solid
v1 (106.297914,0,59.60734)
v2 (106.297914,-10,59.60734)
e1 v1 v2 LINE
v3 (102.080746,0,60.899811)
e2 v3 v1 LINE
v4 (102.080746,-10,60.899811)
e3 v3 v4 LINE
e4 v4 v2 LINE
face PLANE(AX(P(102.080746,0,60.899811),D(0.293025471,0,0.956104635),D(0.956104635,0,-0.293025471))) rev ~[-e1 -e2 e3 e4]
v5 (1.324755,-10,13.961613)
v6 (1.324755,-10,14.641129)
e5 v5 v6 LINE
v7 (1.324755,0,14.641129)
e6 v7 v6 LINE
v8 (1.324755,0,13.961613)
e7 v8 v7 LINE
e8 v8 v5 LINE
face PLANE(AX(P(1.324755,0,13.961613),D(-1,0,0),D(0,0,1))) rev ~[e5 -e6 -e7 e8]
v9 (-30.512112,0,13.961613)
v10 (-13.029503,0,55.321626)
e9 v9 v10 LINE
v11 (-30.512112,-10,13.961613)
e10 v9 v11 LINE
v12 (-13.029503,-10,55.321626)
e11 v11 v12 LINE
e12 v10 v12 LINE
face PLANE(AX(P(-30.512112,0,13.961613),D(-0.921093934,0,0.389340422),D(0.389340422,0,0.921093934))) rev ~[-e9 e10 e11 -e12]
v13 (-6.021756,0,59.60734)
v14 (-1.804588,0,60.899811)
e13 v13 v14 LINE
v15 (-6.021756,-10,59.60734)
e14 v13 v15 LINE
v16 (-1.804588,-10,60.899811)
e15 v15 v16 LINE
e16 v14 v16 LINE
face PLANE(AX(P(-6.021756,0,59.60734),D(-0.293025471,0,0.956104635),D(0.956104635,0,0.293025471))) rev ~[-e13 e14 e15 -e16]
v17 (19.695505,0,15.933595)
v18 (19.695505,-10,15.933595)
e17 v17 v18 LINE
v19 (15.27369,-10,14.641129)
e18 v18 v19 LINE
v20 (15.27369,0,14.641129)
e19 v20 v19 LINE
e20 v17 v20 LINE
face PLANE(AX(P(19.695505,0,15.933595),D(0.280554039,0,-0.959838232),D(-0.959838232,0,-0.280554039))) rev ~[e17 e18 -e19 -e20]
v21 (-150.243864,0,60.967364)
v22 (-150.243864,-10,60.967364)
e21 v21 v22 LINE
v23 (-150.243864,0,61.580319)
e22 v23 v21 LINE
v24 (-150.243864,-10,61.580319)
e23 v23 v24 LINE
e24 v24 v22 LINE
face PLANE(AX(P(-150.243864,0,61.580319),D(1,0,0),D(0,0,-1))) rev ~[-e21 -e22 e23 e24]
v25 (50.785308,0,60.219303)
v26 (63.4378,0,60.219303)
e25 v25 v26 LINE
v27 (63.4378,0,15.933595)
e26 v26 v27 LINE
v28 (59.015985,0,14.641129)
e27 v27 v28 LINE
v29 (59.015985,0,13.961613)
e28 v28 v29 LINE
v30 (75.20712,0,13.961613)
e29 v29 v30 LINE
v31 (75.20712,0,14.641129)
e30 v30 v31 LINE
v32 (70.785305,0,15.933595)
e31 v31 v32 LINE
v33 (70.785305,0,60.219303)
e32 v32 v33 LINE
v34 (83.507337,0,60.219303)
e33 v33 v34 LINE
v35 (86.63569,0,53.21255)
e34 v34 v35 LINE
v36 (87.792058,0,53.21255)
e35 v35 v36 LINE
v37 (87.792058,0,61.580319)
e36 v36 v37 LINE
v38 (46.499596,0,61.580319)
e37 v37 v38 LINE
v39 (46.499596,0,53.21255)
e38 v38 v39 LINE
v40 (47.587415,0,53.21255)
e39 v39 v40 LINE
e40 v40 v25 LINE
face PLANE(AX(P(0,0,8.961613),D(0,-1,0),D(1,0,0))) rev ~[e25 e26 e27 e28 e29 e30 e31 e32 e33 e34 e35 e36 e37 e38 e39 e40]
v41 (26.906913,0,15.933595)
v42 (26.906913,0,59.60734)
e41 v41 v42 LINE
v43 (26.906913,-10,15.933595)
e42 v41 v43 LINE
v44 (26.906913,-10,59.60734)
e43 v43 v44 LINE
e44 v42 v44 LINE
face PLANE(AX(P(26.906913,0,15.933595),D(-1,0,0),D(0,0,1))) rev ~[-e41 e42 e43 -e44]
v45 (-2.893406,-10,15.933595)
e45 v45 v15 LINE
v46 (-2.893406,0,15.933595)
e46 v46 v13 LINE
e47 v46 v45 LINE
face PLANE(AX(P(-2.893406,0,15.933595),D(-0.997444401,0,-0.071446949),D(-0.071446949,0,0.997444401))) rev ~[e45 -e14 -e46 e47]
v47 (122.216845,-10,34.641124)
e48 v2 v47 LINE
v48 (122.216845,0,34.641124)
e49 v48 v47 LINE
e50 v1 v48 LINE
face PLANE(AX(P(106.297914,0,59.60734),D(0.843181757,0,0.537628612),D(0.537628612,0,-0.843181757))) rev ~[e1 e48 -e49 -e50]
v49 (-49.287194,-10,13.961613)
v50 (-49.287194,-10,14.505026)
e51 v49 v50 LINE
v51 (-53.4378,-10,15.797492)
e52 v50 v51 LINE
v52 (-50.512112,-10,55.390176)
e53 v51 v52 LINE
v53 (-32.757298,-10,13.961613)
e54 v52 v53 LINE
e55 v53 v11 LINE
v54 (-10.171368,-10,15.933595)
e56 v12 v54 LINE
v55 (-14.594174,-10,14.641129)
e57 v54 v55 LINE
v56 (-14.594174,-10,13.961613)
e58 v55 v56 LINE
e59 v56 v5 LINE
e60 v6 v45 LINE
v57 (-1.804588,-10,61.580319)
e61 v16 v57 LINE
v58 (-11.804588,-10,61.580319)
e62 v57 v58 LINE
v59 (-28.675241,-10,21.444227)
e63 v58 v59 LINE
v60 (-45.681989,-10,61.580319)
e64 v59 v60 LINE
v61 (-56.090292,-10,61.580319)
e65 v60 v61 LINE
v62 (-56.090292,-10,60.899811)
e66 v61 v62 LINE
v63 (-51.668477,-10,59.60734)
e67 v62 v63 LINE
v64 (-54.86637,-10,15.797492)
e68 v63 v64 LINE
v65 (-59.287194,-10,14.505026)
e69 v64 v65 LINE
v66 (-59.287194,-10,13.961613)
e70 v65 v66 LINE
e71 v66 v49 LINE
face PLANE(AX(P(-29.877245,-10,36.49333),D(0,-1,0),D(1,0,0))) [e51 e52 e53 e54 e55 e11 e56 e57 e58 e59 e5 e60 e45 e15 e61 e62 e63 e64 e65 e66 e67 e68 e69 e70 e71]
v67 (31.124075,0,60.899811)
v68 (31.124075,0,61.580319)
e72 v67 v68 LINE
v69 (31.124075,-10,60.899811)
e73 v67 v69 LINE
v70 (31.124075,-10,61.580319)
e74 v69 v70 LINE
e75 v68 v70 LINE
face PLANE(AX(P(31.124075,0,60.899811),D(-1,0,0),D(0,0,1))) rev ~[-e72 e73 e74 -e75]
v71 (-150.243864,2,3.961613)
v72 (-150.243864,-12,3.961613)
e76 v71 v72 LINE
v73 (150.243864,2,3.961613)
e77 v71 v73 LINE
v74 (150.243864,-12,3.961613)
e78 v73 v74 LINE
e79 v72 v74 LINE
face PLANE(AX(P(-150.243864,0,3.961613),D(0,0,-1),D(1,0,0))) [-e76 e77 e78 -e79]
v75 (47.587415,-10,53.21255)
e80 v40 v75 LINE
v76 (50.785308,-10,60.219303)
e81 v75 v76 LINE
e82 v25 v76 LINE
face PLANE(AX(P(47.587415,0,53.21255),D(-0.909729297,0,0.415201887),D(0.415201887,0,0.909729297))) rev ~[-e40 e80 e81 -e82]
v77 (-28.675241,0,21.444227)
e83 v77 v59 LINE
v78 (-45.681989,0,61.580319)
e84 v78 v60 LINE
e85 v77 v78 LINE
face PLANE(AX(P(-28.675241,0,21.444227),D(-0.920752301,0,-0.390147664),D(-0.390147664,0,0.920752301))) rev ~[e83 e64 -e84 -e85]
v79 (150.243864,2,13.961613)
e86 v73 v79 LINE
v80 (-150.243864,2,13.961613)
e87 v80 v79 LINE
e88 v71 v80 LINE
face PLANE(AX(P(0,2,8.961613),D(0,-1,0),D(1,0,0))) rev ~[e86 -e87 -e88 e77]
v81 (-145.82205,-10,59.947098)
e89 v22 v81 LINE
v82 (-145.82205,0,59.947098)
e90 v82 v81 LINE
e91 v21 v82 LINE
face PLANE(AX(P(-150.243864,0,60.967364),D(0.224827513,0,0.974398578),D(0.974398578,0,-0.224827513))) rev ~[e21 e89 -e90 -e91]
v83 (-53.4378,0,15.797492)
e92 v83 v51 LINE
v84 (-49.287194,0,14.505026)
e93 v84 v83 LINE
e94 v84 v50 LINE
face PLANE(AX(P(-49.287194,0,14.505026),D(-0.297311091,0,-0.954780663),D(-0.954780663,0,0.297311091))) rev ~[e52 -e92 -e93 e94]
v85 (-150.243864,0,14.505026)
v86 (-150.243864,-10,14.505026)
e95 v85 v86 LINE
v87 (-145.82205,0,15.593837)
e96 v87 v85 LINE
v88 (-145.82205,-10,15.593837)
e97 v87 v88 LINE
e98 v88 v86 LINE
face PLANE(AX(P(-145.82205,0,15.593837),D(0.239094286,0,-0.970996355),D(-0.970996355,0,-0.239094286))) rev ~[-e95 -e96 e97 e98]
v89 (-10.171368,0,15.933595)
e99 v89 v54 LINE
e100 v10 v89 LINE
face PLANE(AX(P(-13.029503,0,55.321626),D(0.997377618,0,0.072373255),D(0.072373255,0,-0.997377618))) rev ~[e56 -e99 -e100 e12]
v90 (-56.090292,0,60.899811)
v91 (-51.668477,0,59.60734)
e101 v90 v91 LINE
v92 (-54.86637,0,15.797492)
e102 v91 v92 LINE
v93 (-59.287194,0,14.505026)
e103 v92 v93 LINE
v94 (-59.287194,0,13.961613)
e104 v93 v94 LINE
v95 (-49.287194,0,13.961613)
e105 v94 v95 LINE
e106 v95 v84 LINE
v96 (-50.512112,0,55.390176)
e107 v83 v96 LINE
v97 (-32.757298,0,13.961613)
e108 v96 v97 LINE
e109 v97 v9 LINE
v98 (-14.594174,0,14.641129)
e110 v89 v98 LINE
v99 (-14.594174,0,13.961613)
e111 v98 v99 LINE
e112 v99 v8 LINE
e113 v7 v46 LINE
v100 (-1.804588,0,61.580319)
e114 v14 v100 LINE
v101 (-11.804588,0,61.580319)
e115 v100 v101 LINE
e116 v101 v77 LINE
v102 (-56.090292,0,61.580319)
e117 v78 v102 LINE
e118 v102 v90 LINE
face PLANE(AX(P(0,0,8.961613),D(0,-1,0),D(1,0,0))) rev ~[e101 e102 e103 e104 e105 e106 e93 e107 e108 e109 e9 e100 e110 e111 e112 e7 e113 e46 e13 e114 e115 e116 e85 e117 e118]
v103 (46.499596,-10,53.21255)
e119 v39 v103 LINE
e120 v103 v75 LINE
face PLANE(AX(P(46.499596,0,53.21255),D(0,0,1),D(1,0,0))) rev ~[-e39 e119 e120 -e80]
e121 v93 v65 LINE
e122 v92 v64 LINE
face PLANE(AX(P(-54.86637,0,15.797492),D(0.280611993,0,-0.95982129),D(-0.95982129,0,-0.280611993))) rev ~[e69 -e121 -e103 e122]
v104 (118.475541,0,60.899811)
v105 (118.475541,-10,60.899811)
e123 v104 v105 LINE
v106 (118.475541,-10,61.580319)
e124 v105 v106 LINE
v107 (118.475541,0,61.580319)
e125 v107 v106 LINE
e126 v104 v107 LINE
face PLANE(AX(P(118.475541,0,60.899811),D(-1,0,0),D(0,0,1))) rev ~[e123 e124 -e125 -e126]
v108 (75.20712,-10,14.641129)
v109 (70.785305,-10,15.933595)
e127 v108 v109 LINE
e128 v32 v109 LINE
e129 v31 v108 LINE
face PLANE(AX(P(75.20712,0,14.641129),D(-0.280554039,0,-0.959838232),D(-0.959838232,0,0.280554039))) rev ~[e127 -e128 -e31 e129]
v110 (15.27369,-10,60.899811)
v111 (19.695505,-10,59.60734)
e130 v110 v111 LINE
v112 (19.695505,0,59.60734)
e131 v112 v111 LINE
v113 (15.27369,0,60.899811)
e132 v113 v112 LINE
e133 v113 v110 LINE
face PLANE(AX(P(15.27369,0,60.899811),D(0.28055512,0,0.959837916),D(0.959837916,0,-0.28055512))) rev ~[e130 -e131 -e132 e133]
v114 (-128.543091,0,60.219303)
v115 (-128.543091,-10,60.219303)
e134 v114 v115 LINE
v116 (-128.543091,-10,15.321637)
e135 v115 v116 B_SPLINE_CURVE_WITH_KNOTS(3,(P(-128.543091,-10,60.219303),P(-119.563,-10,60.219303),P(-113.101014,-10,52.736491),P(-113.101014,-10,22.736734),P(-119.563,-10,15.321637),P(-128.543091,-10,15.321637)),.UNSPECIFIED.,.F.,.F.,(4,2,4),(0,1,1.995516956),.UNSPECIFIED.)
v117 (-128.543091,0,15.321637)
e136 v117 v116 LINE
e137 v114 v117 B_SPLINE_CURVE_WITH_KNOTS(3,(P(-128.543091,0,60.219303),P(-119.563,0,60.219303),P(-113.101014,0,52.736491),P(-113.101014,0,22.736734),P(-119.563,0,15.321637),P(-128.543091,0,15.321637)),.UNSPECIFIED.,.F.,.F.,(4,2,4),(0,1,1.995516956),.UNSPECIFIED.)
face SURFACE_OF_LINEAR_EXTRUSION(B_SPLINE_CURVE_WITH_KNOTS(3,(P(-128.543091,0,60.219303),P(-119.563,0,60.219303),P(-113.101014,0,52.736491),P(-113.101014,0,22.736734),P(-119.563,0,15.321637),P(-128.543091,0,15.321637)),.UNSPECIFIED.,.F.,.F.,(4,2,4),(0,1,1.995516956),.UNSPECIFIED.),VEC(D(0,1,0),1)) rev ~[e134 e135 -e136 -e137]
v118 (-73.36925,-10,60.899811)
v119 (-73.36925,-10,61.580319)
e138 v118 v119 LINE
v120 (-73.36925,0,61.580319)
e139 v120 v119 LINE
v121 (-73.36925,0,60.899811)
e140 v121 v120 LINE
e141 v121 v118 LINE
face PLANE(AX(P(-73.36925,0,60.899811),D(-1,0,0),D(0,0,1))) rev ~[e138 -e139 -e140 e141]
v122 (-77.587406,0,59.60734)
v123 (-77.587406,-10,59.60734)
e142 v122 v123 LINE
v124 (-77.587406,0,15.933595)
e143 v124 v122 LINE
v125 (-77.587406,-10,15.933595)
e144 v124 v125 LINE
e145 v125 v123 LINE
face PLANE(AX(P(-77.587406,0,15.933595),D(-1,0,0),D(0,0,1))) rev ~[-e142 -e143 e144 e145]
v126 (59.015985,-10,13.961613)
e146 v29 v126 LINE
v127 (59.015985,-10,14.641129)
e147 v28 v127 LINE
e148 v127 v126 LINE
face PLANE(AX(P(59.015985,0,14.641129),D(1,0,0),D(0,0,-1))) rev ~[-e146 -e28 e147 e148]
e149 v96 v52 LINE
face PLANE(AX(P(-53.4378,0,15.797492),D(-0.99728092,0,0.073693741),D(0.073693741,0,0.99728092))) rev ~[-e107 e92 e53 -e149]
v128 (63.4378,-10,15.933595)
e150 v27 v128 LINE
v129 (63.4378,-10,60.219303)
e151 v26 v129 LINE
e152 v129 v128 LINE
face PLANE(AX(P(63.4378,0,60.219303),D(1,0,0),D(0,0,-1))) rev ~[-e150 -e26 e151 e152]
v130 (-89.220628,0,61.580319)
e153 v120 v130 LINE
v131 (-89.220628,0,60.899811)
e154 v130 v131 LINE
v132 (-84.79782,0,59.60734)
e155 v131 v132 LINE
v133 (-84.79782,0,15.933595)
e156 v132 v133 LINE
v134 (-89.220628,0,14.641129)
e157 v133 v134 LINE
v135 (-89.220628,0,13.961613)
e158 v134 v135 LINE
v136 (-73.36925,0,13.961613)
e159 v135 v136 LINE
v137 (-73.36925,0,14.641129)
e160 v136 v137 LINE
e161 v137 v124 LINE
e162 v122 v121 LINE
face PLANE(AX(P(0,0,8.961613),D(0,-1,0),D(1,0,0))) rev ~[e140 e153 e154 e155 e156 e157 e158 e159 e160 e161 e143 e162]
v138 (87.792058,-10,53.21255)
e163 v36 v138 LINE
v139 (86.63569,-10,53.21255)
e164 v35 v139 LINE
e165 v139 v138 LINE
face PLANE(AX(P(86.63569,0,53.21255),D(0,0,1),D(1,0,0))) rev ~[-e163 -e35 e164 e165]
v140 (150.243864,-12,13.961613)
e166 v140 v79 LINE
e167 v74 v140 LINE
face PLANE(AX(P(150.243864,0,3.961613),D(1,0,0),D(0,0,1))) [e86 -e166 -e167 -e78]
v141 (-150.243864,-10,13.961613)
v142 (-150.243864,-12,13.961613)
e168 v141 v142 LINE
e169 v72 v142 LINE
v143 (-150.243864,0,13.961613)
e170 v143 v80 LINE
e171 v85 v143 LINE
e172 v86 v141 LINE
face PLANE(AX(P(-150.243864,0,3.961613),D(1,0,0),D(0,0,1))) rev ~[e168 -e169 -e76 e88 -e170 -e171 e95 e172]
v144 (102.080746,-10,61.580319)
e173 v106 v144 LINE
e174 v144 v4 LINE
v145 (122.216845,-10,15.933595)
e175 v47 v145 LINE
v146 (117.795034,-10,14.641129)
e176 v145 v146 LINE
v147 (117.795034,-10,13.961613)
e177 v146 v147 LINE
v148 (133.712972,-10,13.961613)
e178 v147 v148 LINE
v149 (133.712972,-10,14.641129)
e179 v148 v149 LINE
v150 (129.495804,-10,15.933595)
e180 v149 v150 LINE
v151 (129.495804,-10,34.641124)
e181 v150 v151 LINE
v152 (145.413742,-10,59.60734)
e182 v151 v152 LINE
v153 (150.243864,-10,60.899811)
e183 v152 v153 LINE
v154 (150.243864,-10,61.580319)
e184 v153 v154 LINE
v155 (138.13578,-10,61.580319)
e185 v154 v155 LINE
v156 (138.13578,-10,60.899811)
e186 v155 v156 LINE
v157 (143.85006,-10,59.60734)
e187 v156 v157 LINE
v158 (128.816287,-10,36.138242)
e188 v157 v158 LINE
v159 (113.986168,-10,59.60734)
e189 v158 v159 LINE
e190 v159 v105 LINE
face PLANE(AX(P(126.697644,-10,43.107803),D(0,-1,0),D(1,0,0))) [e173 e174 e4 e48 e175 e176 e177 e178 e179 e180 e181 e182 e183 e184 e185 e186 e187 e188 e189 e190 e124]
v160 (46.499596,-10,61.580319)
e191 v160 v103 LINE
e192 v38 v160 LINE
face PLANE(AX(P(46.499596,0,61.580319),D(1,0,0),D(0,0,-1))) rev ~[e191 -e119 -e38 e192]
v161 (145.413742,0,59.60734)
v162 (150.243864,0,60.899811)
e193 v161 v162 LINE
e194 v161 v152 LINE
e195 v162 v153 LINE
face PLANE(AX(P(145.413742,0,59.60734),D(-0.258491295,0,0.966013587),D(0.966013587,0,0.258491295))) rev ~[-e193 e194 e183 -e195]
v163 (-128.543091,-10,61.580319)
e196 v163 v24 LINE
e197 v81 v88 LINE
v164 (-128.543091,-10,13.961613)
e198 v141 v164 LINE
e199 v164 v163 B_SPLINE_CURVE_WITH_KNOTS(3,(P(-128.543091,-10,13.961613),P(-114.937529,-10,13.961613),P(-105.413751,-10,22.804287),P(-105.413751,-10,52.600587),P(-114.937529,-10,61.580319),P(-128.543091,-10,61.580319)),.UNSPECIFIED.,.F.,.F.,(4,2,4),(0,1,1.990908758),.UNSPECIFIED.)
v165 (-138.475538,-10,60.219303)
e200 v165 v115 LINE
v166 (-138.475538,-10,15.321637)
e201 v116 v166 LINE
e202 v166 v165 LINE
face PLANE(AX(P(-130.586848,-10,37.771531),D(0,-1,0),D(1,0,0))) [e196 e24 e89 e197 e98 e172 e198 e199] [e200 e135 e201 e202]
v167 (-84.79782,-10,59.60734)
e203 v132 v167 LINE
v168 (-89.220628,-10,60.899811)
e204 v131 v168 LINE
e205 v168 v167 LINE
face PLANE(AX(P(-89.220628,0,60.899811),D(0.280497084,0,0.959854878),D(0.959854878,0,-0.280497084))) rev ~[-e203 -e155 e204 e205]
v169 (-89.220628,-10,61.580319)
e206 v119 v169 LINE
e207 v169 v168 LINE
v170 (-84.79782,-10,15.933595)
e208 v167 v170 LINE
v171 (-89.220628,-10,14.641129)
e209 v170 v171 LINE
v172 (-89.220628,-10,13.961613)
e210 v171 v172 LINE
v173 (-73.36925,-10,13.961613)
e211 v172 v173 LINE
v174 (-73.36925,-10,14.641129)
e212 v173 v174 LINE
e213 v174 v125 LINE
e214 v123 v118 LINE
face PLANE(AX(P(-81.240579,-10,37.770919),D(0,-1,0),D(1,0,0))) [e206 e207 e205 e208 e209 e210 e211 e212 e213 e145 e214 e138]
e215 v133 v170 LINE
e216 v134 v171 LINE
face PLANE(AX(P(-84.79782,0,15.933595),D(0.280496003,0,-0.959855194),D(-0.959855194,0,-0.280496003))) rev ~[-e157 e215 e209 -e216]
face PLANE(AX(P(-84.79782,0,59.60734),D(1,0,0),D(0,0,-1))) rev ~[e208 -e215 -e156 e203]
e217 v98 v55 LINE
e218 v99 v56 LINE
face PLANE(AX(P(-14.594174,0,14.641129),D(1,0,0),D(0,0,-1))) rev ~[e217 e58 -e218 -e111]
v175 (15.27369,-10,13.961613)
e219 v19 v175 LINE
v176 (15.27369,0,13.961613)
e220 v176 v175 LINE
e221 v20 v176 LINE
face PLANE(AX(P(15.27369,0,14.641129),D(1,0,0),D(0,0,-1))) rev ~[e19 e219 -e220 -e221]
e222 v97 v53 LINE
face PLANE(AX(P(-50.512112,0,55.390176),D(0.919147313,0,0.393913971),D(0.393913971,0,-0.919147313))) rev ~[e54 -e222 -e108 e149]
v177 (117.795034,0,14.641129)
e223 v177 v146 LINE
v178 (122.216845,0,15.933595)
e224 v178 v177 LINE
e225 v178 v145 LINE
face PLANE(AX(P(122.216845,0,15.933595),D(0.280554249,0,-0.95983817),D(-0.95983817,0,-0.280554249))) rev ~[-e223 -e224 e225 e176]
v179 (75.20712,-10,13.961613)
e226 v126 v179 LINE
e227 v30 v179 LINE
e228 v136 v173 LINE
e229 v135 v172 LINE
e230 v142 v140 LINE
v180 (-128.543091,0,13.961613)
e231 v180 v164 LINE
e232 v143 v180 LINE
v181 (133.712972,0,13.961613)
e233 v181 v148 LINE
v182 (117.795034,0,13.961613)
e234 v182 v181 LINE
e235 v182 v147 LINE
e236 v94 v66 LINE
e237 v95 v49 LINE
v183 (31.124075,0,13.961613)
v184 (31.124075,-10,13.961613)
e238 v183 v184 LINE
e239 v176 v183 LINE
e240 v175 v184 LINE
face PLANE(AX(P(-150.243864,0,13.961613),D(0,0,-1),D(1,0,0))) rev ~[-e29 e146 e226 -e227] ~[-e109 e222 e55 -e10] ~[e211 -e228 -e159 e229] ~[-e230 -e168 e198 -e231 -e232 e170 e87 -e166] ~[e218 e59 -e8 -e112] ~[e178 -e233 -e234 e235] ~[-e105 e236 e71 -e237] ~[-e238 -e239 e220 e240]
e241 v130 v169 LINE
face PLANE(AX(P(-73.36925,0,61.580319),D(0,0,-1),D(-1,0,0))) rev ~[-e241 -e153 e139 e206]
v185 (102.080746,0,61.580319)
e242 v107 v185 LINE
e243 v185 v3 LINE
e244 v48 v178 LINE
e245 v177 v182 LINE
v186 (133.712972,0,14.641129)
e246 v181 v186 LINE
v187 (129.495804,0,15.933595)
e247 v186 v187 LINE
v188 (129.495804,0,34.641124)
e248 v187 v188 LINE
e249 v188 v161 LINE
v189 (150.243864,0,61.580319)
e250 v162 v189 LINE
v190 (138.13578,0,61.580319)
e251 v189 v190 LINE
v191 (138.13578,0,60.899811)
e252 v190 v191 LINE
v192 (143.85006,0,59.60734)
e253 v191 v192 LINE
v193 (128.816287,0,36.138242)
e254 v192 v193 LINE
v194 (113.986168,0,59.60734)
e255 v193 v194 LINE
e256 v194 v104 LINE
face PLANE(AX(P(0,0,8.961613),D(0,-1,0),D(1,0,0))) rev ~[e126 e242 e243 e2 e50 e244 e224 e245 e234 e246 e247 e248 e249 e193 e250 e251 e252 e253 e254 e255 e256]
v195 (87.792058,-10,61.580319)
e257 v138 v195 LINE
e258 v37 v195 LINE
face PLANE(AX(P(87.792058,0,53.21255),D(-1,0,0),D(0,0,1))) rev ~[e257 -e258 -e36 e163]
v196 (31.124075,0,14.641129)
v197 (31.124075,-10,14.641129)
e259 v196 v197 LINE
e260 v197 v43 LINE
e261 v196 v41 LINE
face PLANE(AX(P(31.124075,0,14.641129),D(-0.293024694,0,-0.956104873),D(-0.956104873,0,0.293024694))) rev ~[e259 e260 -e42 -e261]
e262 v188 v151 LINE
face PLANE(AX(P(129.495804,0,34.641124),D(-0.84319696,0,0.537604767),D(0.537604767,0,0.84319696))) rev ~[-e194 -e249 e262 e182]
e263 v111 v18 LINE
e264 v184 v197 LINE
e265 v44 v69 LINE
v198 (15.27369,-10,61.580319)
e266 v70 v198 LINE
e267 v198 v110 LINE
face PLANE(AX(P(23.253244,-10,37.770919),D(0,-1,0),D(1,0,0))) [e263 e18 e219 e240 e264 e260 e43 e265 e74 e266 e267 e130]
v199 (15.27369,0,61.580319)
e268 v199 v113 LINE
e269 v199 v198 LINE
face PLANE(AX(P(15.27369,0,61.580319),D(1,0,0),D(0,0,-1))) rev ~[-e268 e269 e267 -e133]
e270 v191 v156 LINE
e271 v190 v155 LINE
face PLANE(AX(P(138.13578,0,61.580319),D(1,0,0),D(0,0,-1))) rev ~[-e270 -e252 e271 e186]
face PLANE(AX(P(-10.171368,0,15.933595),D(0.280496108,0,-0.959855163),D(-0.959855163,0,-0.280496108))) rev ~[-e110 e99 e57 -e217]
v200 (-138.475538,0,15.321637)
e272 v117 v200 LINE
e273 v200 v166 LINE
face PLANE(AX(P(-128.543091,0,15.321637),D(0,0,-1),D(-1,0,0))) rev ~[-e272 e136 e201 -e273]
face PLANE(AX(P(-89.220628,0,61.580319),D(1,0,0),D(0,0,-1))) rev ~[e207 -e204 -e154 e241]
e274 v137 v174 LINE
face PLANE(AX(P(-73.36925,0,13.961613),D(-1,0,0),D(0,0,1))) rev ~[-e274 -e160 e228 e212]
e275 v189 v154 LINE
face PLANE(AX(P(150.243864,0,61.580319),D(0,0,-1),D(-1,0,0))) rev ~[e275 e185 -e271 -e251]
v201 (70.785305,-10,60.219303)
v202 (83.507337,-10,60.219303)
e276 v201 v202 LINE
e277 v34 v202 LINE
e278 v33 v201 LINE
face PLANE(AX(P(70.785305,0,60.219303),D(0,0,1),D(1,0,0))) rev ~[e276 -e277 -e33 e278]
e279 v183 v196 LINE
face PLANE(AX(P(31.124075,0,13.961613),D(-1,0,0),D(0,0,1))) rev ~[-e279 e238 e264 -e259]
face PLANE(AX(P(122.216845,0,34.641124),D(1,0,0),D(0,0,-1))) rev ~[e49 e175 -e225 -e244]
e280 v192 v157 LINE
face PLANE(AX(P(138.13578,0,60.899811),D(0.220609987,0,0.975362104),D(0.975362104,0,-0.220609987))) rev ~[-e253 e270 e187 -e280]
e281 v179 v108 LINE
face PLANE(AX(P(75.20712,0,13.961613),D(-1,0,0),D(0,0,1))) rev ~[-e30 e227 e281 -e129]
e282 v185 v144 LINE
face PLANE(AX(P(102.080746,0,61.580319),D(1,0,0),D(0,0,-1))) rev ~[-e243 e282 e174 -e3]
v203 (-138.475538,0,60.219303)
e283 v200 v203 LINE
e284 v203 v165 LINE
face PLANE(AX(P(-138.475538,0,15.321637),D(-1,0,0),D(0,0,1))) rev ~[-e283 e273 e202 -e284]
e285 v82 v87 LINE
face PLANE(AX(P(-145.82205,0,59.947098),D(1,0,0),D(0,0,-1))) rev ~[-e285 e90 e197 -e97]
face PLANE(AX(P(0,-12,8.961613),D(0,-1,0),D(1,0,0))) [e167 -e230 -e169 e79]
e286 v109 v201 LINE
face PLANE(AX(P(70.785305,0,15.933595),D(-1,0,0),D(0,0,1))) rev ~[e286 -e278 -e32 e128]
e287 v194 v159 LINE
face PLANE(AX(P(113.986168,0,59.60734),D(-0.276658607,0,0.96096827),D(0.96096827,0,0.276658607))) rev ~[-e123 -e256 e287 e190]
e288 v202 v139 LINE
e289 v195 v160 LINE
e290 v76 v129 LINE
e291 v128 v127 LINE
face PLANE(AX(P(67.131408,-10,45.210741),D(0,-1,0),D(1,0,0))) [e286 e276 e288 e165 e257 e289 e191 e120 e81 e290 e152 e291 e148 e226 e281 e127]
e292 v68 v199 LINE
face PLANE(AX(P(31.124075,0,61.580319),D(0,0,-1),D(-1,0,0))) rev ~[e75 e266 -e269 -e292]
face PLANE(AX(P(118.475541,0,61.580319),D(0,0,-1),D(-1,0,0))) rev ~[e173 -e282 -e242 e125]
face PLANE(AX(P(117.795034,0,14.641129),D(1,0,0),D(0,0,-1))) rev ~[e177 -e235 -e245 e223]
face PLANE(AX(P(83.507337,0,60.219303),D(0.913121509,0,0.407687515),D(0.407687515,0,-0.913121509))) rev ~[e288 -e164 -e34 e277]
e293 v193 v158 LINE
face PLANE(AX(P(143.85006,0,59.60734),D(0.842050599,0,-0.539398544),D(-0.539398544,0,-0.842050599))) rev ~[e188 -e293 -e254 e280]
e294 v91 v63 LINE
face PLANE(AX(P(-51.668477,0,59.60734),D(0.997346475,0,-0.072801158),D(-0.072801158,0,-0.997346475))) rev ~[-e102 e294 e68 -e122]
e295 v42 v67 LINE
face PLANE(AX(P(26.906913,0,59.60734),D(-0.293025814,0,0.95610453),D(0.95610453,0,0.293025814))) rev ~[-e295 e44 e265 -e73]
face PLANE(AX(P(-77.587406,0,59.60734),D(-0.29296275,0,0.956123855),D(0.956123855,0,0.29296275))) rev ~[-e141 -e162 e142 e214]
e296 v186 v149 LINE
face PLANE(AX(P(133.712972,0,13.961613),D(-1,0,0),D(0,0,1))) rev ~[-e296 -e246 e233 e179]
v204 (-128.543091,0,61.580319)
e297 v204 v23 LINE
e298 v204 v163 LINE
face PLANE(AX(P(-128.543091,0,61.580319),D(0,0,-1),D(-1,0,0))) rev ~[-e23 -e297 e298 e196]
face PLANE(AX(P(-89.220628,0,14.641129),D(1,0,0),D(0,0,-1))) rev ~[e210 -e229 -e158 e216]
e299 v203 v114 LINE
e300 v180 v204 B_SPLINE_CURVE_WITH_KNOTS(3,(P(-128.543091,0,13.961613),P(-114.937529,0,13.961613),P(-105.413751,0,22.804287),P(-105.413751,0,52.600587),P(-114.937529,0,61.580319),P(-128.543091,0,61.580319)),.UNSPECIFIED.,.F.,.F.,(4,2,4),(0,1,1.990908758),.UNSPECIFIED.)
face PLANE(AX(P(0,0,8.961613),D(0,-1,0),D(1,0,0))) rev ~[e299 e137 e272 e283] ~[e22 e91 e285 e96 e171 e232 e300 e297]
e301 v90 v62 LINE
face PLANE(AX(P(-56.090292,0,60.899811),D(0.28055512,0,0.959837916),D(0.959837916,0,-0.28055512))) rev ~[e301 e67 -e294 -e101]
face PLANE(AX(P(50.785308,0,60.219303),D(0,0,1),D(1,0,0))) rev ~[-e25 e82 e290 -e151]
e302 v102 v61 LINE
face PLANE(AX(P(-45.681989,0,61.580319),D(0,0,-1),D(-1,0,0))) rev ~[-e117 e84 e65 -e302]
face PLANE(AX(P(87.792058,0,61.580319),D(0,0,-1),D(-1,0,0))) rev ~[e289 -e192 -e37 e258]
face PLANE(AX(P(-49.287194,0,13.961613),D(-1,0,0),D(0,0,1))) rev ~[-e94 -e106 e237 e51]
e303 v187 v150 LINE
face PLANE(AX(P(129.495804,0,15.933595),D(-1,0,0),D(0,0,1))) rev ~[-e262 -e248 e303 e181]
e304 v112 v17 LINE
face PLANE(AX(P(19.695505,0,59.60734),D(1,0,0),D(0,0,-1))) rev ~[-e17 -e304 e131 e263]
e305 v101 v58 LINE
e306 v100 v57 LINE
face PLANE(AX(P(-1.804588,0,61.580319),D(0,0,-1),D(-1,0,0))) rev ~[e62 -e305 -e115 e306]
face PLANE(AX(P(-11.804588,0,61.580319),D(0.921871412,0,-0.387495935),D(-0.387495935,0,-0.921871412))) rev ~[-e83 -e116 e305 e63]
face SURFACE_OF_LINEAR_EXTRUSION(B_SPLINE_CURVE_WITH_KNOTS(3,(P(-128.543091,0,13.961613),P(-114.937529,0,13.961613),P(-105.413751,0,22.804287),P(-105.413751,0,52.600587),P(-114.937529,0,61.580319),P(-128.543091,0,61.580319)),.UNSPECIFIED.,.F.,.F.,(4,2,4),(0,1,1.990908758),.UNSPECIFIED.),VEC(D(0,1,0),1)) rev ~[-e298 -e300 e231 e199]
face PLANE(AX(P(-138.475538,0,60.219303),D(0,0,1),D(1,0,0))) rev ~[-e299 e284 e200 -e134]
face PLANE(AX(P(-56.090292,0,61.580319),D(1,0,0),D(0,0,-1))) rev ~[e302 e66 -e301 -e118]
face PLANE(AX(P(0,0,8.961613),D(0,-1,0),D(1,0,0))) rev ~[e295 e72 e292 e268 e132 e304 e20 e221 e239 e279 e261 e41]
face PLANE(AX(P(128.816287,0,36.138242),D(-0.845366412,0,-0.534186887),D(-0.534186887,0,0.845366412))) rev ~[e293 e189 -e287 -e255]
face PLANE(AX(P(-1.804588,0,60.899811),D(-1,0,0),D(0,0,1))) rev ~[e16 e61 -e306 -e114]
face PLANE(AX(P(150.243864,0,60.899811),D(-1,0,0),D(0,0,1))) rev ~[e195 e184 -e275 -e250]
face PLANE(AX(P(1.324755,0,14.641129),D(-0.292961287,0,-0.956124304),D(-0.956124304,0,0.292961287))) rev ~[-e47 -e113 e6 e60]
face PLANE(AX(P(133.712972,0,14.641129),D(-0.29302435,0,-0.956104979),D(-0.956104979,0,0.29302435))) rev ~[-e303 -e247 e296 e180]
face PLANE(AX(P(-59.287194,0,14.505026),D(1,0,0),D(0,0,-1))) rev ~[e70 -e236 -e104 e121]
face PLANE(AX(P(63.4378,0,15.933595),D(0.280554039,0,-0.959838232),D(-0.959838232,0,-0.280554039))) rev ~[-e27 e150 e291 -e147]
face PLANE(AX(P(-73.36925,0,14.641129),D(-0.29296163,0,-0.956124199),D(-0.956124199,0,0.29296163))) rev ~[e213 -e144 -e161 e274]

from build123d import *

# Parameters (mm, degrees)
F1_DEPTH      = 10
F2_W          = 300.4877288307
F2_H          = 10
F3_DEPTH      = 12
F3_DEPTH_BACK = 2


with BuildPart() as f1:
    # F0 (on Front) → F1 (new body)
    with BuildSketch(Plane.XZ):
        with BuildLine():
            Line((-128.5430908417, 61.5803188143), (-150.2438644154, 61.5803188143))
            Line((-150.2438644154, 61.5803188143), (-150.2438644154, 60.9673641131))
            Line((-150.2438644154, 60.9673641131), (-145.822049572, 59.9470982195))
            Line((-145.822049572, 59.9470982195), (-145.822049572, 15.5938366192))
            Line((-145.822049572, 15.5938366192), (-150.2438644154, 14.5050264939))
            Line((-150.2438644154, 14.5050264939), (-150.2438644154, 13.961612684))
            Line((-150.2438644154, 13.961612684), (-128.5430908417, 13.961612684))
            add(Edge.make_bspline(
                [(-128.5430908417, 13.961612684), (-114.9375294447, 13.961612684), (-105.4137507313, 22.8042871634), (-105.4137507313, 37.7704674193)],
                knots=[0, 0, 0, 0, 1, 1, 1, 1], degree=3))
            add(Edge.make_bspline(
                [(-105.4137507313, 37.7704674193), (-105.4137507313, 52.6005865102), (-114.9375294447, 61.5803188143), (-128.5430908417, 61.5803188143)],
                knots=[0, 0, 0, 0, 1, 1, 1, 1], degree=3))
        make_face()
        with BuildLine():
            Line((-138.4755378628, 15.3216367913), (-138.4755378628, 60.2193034542))
            Line((-138.4755378628, 60.2193034542), (-128.5430908417, 60.2193034542))
            add(Edge.make_bspline(
                [(-128.5430908417, 60.2193034542), (-119.5629998843, 60.2193034542), (-113.1010137092, 52.7364908771), (-113.1010137092, 37.7029144405)],
                knots=[0, 0, 0, 0, 1, 1, 1, 1], degree=3))
            add(Edge.make_bspline(
                [(-113.1010137092, 37.7029144405), (-113.1010137092, 22.7367341846), (-119.5629998843, 15.3216367913), (-128.5430908417, 15.3216367913)],
                knots=[0, 0, 0, 0, 1, 1, 1, 1], degree=3))
            Line((-128.5430908417, 15.3216367913), (-138.4755378628, 15.3216367913))
        make_face(mode=Mode.SUBTRACT)
    extrude(amount=F1_DEPTH)



with BuildPart() as f1b:
    # F0 (on Front) → F1, piece 2 (new body)
    with BuildSketch(Plane.XZ):
        Polygon((-73.3692503281, 61.5803188143), (-89.2206283678, 61.5803188143), (-89.2206283678, 60.8998111343), (-84.7978204693, 59.6073400059), (-84.7978204693, 15.9335948328), (-89.2206283678, 14.6411291112), (-89.2206283678, 13.961612684), (-73.3692503281, 13.961612684), (-73.3692503281, 14.6411291112), (-77.5874059707, 15.9335948328), (-77.5874059707, 59.6073400059), (-73.3692503281, 60.8998111343), align=None)
    extrude(amount=F1_DEPTH)


with BuildPart() as f1c:
    # F0 (on Front) → F1, piece 3 (new body)
    with BuildSketch(Plane.XZ):
        Polygon((-45.6819891524, 61.5803188143), (-56.0902915977, 61.5803188143), (-56.0902915977, 60.8998111343), (-51.6684767544, 59.6073400059), (-54.8663701079, 15.7974922154), (-59.2871936984, 14.5050264939), (-59.2871936984, 13.961612684), (-49.2871936984, 13.961612684), (-49.2871936984, 14.5050264939), (-53.4377999666, 15.7974922154), (-50.5121118479, 55.3901756161), (-32.7572976934, 13.961612684), (-30.5121118479, 13.961612684), (-13.0295029282, 55.3216259776), (-10.1713677883, 15.9335948328), (-14.5941738845, 14.6411291112), (-14.5941738845, 13.961612684), (1.3247553318, 13.961612684), (1.3247553318, 14.6411291112), (-2.8934057176, 15.9335948328), (-6.0217563775, 59.6073400059), (-1.8045883832, 60.8998111343), (-1.8045883832, 61.5803188143), (-11.8045883832, 61.5803188143), (-28.6752410637, 21.4442270106), align=None)
    extrude(amount=F1_DEPTH)


with BuildPart() as f1d:
    # F0 (on Front) → F1, piece 4 (new body)
    with BuildSketch(Plane.XZ):
        Polygon((31.1240752963, 61.5803188143), (15.2736903117, 61.5803188143), (15.2736903117, 60.8998111343), (19.6955051551, 59.6073400059), (19.6955051551, 15.9335948328), (15.2736903117, 14.6411291112), (15.2736903117, 13.961612684), (31.1240752963, 13.961612684), (31.1240752963, 14.6411291112), (26.9069127088, 15.9335948328), (26.9069127088, 59.6073400059), (31.1240752963, 60.8998111343), align=None)
    extrude(amount=F1_DEPTH)


with BuildPart() as f1e:
    # F0 (on Front) → F1, piece 5 (new body)
    with BuildSketch(Plane.XZ):
        Polygon((87.7920582266, 61.5803188143), (46.4995961095, 61.5803188143), (46.4995961095, 53.2125499586), (47.587414982, 53.2125499586), (50.7853083355, 60.2193034542), (63.4377999666, 60.2193034542), (63.4377999666, 15.9335948328), (59.0159851233, 14.6411291112), (59.0159851233, 13.961612684), (75.2071195743, 13.961612684), (75.2071195743, 14.6411291112), (70.7853047309, 15.9335948328), (70.7853047309, 60.2193034542), (83.5073372534, 60.2193034542), (86.6356897155, 53.2125499586), (87.7920582266, 53.2125499586), align=None)
    extrude(amount=F1_DEPTH)


with BuildPart() as f1f:
    # F0 (on Front) → F1, piece 6 (new body)
    with BuildSketch(Plane.XZ):
        Polygon((118.4755414673, 61.5803188143), (102.0807460133, 61.5803188143), (102.0807460133, 60.8998111343), (106.2979140076, 59.6073400059), (122.2168450261, 34.6411237044), (122.2168450261, 15.9335948328), (117.7950337873, 14.6411291112), (117.7950337873, 13.961612684), (133.7129717507, 13.961612684), (133.7129717507, 14.6411291112), (129.4958037565, 15.9335948328), (129.4958037565, 34.6411237044), (145.4137417199, 59.6073400059), (150.2438644154, 60.8998111343), (150.2438644154, 61.5803188143), (138.1357796492, 61.5803188143), (138.1357796492, 60.8998111343), (143.8500602141, 59.6073400059), (128.8162873292, 36.1382416819), (113.9861682383, 59.6073400059), (118.4755414673, 60.8998111343), align=None)
    extrude(amount=F1_DEPTH)


with BuildPart() as f1_1:
    add(f1.part)

    add(f1b.part)  # F3 merges F1b

    add(f1c.part)  # F3 merges F1c

    add(f1d.part)  # F3 merges F1d

    add(f1e.part)  # F3 merges F1e

    add(f1f.part)  # F3 merges F1f
    # F2 (on Front) → F3 (join, two sides)
    with BuildSketch(Plane.XZ) as f3_sk:
        with Locations((0, 8.961612684)):
            Rectangle(F2_W, F2_H)
    extrude(amount=F3_DEPTH)
    extrude(f3_sk.sketch, amount=-F3_DEPTH_BACK)


solid = f1_1.part
